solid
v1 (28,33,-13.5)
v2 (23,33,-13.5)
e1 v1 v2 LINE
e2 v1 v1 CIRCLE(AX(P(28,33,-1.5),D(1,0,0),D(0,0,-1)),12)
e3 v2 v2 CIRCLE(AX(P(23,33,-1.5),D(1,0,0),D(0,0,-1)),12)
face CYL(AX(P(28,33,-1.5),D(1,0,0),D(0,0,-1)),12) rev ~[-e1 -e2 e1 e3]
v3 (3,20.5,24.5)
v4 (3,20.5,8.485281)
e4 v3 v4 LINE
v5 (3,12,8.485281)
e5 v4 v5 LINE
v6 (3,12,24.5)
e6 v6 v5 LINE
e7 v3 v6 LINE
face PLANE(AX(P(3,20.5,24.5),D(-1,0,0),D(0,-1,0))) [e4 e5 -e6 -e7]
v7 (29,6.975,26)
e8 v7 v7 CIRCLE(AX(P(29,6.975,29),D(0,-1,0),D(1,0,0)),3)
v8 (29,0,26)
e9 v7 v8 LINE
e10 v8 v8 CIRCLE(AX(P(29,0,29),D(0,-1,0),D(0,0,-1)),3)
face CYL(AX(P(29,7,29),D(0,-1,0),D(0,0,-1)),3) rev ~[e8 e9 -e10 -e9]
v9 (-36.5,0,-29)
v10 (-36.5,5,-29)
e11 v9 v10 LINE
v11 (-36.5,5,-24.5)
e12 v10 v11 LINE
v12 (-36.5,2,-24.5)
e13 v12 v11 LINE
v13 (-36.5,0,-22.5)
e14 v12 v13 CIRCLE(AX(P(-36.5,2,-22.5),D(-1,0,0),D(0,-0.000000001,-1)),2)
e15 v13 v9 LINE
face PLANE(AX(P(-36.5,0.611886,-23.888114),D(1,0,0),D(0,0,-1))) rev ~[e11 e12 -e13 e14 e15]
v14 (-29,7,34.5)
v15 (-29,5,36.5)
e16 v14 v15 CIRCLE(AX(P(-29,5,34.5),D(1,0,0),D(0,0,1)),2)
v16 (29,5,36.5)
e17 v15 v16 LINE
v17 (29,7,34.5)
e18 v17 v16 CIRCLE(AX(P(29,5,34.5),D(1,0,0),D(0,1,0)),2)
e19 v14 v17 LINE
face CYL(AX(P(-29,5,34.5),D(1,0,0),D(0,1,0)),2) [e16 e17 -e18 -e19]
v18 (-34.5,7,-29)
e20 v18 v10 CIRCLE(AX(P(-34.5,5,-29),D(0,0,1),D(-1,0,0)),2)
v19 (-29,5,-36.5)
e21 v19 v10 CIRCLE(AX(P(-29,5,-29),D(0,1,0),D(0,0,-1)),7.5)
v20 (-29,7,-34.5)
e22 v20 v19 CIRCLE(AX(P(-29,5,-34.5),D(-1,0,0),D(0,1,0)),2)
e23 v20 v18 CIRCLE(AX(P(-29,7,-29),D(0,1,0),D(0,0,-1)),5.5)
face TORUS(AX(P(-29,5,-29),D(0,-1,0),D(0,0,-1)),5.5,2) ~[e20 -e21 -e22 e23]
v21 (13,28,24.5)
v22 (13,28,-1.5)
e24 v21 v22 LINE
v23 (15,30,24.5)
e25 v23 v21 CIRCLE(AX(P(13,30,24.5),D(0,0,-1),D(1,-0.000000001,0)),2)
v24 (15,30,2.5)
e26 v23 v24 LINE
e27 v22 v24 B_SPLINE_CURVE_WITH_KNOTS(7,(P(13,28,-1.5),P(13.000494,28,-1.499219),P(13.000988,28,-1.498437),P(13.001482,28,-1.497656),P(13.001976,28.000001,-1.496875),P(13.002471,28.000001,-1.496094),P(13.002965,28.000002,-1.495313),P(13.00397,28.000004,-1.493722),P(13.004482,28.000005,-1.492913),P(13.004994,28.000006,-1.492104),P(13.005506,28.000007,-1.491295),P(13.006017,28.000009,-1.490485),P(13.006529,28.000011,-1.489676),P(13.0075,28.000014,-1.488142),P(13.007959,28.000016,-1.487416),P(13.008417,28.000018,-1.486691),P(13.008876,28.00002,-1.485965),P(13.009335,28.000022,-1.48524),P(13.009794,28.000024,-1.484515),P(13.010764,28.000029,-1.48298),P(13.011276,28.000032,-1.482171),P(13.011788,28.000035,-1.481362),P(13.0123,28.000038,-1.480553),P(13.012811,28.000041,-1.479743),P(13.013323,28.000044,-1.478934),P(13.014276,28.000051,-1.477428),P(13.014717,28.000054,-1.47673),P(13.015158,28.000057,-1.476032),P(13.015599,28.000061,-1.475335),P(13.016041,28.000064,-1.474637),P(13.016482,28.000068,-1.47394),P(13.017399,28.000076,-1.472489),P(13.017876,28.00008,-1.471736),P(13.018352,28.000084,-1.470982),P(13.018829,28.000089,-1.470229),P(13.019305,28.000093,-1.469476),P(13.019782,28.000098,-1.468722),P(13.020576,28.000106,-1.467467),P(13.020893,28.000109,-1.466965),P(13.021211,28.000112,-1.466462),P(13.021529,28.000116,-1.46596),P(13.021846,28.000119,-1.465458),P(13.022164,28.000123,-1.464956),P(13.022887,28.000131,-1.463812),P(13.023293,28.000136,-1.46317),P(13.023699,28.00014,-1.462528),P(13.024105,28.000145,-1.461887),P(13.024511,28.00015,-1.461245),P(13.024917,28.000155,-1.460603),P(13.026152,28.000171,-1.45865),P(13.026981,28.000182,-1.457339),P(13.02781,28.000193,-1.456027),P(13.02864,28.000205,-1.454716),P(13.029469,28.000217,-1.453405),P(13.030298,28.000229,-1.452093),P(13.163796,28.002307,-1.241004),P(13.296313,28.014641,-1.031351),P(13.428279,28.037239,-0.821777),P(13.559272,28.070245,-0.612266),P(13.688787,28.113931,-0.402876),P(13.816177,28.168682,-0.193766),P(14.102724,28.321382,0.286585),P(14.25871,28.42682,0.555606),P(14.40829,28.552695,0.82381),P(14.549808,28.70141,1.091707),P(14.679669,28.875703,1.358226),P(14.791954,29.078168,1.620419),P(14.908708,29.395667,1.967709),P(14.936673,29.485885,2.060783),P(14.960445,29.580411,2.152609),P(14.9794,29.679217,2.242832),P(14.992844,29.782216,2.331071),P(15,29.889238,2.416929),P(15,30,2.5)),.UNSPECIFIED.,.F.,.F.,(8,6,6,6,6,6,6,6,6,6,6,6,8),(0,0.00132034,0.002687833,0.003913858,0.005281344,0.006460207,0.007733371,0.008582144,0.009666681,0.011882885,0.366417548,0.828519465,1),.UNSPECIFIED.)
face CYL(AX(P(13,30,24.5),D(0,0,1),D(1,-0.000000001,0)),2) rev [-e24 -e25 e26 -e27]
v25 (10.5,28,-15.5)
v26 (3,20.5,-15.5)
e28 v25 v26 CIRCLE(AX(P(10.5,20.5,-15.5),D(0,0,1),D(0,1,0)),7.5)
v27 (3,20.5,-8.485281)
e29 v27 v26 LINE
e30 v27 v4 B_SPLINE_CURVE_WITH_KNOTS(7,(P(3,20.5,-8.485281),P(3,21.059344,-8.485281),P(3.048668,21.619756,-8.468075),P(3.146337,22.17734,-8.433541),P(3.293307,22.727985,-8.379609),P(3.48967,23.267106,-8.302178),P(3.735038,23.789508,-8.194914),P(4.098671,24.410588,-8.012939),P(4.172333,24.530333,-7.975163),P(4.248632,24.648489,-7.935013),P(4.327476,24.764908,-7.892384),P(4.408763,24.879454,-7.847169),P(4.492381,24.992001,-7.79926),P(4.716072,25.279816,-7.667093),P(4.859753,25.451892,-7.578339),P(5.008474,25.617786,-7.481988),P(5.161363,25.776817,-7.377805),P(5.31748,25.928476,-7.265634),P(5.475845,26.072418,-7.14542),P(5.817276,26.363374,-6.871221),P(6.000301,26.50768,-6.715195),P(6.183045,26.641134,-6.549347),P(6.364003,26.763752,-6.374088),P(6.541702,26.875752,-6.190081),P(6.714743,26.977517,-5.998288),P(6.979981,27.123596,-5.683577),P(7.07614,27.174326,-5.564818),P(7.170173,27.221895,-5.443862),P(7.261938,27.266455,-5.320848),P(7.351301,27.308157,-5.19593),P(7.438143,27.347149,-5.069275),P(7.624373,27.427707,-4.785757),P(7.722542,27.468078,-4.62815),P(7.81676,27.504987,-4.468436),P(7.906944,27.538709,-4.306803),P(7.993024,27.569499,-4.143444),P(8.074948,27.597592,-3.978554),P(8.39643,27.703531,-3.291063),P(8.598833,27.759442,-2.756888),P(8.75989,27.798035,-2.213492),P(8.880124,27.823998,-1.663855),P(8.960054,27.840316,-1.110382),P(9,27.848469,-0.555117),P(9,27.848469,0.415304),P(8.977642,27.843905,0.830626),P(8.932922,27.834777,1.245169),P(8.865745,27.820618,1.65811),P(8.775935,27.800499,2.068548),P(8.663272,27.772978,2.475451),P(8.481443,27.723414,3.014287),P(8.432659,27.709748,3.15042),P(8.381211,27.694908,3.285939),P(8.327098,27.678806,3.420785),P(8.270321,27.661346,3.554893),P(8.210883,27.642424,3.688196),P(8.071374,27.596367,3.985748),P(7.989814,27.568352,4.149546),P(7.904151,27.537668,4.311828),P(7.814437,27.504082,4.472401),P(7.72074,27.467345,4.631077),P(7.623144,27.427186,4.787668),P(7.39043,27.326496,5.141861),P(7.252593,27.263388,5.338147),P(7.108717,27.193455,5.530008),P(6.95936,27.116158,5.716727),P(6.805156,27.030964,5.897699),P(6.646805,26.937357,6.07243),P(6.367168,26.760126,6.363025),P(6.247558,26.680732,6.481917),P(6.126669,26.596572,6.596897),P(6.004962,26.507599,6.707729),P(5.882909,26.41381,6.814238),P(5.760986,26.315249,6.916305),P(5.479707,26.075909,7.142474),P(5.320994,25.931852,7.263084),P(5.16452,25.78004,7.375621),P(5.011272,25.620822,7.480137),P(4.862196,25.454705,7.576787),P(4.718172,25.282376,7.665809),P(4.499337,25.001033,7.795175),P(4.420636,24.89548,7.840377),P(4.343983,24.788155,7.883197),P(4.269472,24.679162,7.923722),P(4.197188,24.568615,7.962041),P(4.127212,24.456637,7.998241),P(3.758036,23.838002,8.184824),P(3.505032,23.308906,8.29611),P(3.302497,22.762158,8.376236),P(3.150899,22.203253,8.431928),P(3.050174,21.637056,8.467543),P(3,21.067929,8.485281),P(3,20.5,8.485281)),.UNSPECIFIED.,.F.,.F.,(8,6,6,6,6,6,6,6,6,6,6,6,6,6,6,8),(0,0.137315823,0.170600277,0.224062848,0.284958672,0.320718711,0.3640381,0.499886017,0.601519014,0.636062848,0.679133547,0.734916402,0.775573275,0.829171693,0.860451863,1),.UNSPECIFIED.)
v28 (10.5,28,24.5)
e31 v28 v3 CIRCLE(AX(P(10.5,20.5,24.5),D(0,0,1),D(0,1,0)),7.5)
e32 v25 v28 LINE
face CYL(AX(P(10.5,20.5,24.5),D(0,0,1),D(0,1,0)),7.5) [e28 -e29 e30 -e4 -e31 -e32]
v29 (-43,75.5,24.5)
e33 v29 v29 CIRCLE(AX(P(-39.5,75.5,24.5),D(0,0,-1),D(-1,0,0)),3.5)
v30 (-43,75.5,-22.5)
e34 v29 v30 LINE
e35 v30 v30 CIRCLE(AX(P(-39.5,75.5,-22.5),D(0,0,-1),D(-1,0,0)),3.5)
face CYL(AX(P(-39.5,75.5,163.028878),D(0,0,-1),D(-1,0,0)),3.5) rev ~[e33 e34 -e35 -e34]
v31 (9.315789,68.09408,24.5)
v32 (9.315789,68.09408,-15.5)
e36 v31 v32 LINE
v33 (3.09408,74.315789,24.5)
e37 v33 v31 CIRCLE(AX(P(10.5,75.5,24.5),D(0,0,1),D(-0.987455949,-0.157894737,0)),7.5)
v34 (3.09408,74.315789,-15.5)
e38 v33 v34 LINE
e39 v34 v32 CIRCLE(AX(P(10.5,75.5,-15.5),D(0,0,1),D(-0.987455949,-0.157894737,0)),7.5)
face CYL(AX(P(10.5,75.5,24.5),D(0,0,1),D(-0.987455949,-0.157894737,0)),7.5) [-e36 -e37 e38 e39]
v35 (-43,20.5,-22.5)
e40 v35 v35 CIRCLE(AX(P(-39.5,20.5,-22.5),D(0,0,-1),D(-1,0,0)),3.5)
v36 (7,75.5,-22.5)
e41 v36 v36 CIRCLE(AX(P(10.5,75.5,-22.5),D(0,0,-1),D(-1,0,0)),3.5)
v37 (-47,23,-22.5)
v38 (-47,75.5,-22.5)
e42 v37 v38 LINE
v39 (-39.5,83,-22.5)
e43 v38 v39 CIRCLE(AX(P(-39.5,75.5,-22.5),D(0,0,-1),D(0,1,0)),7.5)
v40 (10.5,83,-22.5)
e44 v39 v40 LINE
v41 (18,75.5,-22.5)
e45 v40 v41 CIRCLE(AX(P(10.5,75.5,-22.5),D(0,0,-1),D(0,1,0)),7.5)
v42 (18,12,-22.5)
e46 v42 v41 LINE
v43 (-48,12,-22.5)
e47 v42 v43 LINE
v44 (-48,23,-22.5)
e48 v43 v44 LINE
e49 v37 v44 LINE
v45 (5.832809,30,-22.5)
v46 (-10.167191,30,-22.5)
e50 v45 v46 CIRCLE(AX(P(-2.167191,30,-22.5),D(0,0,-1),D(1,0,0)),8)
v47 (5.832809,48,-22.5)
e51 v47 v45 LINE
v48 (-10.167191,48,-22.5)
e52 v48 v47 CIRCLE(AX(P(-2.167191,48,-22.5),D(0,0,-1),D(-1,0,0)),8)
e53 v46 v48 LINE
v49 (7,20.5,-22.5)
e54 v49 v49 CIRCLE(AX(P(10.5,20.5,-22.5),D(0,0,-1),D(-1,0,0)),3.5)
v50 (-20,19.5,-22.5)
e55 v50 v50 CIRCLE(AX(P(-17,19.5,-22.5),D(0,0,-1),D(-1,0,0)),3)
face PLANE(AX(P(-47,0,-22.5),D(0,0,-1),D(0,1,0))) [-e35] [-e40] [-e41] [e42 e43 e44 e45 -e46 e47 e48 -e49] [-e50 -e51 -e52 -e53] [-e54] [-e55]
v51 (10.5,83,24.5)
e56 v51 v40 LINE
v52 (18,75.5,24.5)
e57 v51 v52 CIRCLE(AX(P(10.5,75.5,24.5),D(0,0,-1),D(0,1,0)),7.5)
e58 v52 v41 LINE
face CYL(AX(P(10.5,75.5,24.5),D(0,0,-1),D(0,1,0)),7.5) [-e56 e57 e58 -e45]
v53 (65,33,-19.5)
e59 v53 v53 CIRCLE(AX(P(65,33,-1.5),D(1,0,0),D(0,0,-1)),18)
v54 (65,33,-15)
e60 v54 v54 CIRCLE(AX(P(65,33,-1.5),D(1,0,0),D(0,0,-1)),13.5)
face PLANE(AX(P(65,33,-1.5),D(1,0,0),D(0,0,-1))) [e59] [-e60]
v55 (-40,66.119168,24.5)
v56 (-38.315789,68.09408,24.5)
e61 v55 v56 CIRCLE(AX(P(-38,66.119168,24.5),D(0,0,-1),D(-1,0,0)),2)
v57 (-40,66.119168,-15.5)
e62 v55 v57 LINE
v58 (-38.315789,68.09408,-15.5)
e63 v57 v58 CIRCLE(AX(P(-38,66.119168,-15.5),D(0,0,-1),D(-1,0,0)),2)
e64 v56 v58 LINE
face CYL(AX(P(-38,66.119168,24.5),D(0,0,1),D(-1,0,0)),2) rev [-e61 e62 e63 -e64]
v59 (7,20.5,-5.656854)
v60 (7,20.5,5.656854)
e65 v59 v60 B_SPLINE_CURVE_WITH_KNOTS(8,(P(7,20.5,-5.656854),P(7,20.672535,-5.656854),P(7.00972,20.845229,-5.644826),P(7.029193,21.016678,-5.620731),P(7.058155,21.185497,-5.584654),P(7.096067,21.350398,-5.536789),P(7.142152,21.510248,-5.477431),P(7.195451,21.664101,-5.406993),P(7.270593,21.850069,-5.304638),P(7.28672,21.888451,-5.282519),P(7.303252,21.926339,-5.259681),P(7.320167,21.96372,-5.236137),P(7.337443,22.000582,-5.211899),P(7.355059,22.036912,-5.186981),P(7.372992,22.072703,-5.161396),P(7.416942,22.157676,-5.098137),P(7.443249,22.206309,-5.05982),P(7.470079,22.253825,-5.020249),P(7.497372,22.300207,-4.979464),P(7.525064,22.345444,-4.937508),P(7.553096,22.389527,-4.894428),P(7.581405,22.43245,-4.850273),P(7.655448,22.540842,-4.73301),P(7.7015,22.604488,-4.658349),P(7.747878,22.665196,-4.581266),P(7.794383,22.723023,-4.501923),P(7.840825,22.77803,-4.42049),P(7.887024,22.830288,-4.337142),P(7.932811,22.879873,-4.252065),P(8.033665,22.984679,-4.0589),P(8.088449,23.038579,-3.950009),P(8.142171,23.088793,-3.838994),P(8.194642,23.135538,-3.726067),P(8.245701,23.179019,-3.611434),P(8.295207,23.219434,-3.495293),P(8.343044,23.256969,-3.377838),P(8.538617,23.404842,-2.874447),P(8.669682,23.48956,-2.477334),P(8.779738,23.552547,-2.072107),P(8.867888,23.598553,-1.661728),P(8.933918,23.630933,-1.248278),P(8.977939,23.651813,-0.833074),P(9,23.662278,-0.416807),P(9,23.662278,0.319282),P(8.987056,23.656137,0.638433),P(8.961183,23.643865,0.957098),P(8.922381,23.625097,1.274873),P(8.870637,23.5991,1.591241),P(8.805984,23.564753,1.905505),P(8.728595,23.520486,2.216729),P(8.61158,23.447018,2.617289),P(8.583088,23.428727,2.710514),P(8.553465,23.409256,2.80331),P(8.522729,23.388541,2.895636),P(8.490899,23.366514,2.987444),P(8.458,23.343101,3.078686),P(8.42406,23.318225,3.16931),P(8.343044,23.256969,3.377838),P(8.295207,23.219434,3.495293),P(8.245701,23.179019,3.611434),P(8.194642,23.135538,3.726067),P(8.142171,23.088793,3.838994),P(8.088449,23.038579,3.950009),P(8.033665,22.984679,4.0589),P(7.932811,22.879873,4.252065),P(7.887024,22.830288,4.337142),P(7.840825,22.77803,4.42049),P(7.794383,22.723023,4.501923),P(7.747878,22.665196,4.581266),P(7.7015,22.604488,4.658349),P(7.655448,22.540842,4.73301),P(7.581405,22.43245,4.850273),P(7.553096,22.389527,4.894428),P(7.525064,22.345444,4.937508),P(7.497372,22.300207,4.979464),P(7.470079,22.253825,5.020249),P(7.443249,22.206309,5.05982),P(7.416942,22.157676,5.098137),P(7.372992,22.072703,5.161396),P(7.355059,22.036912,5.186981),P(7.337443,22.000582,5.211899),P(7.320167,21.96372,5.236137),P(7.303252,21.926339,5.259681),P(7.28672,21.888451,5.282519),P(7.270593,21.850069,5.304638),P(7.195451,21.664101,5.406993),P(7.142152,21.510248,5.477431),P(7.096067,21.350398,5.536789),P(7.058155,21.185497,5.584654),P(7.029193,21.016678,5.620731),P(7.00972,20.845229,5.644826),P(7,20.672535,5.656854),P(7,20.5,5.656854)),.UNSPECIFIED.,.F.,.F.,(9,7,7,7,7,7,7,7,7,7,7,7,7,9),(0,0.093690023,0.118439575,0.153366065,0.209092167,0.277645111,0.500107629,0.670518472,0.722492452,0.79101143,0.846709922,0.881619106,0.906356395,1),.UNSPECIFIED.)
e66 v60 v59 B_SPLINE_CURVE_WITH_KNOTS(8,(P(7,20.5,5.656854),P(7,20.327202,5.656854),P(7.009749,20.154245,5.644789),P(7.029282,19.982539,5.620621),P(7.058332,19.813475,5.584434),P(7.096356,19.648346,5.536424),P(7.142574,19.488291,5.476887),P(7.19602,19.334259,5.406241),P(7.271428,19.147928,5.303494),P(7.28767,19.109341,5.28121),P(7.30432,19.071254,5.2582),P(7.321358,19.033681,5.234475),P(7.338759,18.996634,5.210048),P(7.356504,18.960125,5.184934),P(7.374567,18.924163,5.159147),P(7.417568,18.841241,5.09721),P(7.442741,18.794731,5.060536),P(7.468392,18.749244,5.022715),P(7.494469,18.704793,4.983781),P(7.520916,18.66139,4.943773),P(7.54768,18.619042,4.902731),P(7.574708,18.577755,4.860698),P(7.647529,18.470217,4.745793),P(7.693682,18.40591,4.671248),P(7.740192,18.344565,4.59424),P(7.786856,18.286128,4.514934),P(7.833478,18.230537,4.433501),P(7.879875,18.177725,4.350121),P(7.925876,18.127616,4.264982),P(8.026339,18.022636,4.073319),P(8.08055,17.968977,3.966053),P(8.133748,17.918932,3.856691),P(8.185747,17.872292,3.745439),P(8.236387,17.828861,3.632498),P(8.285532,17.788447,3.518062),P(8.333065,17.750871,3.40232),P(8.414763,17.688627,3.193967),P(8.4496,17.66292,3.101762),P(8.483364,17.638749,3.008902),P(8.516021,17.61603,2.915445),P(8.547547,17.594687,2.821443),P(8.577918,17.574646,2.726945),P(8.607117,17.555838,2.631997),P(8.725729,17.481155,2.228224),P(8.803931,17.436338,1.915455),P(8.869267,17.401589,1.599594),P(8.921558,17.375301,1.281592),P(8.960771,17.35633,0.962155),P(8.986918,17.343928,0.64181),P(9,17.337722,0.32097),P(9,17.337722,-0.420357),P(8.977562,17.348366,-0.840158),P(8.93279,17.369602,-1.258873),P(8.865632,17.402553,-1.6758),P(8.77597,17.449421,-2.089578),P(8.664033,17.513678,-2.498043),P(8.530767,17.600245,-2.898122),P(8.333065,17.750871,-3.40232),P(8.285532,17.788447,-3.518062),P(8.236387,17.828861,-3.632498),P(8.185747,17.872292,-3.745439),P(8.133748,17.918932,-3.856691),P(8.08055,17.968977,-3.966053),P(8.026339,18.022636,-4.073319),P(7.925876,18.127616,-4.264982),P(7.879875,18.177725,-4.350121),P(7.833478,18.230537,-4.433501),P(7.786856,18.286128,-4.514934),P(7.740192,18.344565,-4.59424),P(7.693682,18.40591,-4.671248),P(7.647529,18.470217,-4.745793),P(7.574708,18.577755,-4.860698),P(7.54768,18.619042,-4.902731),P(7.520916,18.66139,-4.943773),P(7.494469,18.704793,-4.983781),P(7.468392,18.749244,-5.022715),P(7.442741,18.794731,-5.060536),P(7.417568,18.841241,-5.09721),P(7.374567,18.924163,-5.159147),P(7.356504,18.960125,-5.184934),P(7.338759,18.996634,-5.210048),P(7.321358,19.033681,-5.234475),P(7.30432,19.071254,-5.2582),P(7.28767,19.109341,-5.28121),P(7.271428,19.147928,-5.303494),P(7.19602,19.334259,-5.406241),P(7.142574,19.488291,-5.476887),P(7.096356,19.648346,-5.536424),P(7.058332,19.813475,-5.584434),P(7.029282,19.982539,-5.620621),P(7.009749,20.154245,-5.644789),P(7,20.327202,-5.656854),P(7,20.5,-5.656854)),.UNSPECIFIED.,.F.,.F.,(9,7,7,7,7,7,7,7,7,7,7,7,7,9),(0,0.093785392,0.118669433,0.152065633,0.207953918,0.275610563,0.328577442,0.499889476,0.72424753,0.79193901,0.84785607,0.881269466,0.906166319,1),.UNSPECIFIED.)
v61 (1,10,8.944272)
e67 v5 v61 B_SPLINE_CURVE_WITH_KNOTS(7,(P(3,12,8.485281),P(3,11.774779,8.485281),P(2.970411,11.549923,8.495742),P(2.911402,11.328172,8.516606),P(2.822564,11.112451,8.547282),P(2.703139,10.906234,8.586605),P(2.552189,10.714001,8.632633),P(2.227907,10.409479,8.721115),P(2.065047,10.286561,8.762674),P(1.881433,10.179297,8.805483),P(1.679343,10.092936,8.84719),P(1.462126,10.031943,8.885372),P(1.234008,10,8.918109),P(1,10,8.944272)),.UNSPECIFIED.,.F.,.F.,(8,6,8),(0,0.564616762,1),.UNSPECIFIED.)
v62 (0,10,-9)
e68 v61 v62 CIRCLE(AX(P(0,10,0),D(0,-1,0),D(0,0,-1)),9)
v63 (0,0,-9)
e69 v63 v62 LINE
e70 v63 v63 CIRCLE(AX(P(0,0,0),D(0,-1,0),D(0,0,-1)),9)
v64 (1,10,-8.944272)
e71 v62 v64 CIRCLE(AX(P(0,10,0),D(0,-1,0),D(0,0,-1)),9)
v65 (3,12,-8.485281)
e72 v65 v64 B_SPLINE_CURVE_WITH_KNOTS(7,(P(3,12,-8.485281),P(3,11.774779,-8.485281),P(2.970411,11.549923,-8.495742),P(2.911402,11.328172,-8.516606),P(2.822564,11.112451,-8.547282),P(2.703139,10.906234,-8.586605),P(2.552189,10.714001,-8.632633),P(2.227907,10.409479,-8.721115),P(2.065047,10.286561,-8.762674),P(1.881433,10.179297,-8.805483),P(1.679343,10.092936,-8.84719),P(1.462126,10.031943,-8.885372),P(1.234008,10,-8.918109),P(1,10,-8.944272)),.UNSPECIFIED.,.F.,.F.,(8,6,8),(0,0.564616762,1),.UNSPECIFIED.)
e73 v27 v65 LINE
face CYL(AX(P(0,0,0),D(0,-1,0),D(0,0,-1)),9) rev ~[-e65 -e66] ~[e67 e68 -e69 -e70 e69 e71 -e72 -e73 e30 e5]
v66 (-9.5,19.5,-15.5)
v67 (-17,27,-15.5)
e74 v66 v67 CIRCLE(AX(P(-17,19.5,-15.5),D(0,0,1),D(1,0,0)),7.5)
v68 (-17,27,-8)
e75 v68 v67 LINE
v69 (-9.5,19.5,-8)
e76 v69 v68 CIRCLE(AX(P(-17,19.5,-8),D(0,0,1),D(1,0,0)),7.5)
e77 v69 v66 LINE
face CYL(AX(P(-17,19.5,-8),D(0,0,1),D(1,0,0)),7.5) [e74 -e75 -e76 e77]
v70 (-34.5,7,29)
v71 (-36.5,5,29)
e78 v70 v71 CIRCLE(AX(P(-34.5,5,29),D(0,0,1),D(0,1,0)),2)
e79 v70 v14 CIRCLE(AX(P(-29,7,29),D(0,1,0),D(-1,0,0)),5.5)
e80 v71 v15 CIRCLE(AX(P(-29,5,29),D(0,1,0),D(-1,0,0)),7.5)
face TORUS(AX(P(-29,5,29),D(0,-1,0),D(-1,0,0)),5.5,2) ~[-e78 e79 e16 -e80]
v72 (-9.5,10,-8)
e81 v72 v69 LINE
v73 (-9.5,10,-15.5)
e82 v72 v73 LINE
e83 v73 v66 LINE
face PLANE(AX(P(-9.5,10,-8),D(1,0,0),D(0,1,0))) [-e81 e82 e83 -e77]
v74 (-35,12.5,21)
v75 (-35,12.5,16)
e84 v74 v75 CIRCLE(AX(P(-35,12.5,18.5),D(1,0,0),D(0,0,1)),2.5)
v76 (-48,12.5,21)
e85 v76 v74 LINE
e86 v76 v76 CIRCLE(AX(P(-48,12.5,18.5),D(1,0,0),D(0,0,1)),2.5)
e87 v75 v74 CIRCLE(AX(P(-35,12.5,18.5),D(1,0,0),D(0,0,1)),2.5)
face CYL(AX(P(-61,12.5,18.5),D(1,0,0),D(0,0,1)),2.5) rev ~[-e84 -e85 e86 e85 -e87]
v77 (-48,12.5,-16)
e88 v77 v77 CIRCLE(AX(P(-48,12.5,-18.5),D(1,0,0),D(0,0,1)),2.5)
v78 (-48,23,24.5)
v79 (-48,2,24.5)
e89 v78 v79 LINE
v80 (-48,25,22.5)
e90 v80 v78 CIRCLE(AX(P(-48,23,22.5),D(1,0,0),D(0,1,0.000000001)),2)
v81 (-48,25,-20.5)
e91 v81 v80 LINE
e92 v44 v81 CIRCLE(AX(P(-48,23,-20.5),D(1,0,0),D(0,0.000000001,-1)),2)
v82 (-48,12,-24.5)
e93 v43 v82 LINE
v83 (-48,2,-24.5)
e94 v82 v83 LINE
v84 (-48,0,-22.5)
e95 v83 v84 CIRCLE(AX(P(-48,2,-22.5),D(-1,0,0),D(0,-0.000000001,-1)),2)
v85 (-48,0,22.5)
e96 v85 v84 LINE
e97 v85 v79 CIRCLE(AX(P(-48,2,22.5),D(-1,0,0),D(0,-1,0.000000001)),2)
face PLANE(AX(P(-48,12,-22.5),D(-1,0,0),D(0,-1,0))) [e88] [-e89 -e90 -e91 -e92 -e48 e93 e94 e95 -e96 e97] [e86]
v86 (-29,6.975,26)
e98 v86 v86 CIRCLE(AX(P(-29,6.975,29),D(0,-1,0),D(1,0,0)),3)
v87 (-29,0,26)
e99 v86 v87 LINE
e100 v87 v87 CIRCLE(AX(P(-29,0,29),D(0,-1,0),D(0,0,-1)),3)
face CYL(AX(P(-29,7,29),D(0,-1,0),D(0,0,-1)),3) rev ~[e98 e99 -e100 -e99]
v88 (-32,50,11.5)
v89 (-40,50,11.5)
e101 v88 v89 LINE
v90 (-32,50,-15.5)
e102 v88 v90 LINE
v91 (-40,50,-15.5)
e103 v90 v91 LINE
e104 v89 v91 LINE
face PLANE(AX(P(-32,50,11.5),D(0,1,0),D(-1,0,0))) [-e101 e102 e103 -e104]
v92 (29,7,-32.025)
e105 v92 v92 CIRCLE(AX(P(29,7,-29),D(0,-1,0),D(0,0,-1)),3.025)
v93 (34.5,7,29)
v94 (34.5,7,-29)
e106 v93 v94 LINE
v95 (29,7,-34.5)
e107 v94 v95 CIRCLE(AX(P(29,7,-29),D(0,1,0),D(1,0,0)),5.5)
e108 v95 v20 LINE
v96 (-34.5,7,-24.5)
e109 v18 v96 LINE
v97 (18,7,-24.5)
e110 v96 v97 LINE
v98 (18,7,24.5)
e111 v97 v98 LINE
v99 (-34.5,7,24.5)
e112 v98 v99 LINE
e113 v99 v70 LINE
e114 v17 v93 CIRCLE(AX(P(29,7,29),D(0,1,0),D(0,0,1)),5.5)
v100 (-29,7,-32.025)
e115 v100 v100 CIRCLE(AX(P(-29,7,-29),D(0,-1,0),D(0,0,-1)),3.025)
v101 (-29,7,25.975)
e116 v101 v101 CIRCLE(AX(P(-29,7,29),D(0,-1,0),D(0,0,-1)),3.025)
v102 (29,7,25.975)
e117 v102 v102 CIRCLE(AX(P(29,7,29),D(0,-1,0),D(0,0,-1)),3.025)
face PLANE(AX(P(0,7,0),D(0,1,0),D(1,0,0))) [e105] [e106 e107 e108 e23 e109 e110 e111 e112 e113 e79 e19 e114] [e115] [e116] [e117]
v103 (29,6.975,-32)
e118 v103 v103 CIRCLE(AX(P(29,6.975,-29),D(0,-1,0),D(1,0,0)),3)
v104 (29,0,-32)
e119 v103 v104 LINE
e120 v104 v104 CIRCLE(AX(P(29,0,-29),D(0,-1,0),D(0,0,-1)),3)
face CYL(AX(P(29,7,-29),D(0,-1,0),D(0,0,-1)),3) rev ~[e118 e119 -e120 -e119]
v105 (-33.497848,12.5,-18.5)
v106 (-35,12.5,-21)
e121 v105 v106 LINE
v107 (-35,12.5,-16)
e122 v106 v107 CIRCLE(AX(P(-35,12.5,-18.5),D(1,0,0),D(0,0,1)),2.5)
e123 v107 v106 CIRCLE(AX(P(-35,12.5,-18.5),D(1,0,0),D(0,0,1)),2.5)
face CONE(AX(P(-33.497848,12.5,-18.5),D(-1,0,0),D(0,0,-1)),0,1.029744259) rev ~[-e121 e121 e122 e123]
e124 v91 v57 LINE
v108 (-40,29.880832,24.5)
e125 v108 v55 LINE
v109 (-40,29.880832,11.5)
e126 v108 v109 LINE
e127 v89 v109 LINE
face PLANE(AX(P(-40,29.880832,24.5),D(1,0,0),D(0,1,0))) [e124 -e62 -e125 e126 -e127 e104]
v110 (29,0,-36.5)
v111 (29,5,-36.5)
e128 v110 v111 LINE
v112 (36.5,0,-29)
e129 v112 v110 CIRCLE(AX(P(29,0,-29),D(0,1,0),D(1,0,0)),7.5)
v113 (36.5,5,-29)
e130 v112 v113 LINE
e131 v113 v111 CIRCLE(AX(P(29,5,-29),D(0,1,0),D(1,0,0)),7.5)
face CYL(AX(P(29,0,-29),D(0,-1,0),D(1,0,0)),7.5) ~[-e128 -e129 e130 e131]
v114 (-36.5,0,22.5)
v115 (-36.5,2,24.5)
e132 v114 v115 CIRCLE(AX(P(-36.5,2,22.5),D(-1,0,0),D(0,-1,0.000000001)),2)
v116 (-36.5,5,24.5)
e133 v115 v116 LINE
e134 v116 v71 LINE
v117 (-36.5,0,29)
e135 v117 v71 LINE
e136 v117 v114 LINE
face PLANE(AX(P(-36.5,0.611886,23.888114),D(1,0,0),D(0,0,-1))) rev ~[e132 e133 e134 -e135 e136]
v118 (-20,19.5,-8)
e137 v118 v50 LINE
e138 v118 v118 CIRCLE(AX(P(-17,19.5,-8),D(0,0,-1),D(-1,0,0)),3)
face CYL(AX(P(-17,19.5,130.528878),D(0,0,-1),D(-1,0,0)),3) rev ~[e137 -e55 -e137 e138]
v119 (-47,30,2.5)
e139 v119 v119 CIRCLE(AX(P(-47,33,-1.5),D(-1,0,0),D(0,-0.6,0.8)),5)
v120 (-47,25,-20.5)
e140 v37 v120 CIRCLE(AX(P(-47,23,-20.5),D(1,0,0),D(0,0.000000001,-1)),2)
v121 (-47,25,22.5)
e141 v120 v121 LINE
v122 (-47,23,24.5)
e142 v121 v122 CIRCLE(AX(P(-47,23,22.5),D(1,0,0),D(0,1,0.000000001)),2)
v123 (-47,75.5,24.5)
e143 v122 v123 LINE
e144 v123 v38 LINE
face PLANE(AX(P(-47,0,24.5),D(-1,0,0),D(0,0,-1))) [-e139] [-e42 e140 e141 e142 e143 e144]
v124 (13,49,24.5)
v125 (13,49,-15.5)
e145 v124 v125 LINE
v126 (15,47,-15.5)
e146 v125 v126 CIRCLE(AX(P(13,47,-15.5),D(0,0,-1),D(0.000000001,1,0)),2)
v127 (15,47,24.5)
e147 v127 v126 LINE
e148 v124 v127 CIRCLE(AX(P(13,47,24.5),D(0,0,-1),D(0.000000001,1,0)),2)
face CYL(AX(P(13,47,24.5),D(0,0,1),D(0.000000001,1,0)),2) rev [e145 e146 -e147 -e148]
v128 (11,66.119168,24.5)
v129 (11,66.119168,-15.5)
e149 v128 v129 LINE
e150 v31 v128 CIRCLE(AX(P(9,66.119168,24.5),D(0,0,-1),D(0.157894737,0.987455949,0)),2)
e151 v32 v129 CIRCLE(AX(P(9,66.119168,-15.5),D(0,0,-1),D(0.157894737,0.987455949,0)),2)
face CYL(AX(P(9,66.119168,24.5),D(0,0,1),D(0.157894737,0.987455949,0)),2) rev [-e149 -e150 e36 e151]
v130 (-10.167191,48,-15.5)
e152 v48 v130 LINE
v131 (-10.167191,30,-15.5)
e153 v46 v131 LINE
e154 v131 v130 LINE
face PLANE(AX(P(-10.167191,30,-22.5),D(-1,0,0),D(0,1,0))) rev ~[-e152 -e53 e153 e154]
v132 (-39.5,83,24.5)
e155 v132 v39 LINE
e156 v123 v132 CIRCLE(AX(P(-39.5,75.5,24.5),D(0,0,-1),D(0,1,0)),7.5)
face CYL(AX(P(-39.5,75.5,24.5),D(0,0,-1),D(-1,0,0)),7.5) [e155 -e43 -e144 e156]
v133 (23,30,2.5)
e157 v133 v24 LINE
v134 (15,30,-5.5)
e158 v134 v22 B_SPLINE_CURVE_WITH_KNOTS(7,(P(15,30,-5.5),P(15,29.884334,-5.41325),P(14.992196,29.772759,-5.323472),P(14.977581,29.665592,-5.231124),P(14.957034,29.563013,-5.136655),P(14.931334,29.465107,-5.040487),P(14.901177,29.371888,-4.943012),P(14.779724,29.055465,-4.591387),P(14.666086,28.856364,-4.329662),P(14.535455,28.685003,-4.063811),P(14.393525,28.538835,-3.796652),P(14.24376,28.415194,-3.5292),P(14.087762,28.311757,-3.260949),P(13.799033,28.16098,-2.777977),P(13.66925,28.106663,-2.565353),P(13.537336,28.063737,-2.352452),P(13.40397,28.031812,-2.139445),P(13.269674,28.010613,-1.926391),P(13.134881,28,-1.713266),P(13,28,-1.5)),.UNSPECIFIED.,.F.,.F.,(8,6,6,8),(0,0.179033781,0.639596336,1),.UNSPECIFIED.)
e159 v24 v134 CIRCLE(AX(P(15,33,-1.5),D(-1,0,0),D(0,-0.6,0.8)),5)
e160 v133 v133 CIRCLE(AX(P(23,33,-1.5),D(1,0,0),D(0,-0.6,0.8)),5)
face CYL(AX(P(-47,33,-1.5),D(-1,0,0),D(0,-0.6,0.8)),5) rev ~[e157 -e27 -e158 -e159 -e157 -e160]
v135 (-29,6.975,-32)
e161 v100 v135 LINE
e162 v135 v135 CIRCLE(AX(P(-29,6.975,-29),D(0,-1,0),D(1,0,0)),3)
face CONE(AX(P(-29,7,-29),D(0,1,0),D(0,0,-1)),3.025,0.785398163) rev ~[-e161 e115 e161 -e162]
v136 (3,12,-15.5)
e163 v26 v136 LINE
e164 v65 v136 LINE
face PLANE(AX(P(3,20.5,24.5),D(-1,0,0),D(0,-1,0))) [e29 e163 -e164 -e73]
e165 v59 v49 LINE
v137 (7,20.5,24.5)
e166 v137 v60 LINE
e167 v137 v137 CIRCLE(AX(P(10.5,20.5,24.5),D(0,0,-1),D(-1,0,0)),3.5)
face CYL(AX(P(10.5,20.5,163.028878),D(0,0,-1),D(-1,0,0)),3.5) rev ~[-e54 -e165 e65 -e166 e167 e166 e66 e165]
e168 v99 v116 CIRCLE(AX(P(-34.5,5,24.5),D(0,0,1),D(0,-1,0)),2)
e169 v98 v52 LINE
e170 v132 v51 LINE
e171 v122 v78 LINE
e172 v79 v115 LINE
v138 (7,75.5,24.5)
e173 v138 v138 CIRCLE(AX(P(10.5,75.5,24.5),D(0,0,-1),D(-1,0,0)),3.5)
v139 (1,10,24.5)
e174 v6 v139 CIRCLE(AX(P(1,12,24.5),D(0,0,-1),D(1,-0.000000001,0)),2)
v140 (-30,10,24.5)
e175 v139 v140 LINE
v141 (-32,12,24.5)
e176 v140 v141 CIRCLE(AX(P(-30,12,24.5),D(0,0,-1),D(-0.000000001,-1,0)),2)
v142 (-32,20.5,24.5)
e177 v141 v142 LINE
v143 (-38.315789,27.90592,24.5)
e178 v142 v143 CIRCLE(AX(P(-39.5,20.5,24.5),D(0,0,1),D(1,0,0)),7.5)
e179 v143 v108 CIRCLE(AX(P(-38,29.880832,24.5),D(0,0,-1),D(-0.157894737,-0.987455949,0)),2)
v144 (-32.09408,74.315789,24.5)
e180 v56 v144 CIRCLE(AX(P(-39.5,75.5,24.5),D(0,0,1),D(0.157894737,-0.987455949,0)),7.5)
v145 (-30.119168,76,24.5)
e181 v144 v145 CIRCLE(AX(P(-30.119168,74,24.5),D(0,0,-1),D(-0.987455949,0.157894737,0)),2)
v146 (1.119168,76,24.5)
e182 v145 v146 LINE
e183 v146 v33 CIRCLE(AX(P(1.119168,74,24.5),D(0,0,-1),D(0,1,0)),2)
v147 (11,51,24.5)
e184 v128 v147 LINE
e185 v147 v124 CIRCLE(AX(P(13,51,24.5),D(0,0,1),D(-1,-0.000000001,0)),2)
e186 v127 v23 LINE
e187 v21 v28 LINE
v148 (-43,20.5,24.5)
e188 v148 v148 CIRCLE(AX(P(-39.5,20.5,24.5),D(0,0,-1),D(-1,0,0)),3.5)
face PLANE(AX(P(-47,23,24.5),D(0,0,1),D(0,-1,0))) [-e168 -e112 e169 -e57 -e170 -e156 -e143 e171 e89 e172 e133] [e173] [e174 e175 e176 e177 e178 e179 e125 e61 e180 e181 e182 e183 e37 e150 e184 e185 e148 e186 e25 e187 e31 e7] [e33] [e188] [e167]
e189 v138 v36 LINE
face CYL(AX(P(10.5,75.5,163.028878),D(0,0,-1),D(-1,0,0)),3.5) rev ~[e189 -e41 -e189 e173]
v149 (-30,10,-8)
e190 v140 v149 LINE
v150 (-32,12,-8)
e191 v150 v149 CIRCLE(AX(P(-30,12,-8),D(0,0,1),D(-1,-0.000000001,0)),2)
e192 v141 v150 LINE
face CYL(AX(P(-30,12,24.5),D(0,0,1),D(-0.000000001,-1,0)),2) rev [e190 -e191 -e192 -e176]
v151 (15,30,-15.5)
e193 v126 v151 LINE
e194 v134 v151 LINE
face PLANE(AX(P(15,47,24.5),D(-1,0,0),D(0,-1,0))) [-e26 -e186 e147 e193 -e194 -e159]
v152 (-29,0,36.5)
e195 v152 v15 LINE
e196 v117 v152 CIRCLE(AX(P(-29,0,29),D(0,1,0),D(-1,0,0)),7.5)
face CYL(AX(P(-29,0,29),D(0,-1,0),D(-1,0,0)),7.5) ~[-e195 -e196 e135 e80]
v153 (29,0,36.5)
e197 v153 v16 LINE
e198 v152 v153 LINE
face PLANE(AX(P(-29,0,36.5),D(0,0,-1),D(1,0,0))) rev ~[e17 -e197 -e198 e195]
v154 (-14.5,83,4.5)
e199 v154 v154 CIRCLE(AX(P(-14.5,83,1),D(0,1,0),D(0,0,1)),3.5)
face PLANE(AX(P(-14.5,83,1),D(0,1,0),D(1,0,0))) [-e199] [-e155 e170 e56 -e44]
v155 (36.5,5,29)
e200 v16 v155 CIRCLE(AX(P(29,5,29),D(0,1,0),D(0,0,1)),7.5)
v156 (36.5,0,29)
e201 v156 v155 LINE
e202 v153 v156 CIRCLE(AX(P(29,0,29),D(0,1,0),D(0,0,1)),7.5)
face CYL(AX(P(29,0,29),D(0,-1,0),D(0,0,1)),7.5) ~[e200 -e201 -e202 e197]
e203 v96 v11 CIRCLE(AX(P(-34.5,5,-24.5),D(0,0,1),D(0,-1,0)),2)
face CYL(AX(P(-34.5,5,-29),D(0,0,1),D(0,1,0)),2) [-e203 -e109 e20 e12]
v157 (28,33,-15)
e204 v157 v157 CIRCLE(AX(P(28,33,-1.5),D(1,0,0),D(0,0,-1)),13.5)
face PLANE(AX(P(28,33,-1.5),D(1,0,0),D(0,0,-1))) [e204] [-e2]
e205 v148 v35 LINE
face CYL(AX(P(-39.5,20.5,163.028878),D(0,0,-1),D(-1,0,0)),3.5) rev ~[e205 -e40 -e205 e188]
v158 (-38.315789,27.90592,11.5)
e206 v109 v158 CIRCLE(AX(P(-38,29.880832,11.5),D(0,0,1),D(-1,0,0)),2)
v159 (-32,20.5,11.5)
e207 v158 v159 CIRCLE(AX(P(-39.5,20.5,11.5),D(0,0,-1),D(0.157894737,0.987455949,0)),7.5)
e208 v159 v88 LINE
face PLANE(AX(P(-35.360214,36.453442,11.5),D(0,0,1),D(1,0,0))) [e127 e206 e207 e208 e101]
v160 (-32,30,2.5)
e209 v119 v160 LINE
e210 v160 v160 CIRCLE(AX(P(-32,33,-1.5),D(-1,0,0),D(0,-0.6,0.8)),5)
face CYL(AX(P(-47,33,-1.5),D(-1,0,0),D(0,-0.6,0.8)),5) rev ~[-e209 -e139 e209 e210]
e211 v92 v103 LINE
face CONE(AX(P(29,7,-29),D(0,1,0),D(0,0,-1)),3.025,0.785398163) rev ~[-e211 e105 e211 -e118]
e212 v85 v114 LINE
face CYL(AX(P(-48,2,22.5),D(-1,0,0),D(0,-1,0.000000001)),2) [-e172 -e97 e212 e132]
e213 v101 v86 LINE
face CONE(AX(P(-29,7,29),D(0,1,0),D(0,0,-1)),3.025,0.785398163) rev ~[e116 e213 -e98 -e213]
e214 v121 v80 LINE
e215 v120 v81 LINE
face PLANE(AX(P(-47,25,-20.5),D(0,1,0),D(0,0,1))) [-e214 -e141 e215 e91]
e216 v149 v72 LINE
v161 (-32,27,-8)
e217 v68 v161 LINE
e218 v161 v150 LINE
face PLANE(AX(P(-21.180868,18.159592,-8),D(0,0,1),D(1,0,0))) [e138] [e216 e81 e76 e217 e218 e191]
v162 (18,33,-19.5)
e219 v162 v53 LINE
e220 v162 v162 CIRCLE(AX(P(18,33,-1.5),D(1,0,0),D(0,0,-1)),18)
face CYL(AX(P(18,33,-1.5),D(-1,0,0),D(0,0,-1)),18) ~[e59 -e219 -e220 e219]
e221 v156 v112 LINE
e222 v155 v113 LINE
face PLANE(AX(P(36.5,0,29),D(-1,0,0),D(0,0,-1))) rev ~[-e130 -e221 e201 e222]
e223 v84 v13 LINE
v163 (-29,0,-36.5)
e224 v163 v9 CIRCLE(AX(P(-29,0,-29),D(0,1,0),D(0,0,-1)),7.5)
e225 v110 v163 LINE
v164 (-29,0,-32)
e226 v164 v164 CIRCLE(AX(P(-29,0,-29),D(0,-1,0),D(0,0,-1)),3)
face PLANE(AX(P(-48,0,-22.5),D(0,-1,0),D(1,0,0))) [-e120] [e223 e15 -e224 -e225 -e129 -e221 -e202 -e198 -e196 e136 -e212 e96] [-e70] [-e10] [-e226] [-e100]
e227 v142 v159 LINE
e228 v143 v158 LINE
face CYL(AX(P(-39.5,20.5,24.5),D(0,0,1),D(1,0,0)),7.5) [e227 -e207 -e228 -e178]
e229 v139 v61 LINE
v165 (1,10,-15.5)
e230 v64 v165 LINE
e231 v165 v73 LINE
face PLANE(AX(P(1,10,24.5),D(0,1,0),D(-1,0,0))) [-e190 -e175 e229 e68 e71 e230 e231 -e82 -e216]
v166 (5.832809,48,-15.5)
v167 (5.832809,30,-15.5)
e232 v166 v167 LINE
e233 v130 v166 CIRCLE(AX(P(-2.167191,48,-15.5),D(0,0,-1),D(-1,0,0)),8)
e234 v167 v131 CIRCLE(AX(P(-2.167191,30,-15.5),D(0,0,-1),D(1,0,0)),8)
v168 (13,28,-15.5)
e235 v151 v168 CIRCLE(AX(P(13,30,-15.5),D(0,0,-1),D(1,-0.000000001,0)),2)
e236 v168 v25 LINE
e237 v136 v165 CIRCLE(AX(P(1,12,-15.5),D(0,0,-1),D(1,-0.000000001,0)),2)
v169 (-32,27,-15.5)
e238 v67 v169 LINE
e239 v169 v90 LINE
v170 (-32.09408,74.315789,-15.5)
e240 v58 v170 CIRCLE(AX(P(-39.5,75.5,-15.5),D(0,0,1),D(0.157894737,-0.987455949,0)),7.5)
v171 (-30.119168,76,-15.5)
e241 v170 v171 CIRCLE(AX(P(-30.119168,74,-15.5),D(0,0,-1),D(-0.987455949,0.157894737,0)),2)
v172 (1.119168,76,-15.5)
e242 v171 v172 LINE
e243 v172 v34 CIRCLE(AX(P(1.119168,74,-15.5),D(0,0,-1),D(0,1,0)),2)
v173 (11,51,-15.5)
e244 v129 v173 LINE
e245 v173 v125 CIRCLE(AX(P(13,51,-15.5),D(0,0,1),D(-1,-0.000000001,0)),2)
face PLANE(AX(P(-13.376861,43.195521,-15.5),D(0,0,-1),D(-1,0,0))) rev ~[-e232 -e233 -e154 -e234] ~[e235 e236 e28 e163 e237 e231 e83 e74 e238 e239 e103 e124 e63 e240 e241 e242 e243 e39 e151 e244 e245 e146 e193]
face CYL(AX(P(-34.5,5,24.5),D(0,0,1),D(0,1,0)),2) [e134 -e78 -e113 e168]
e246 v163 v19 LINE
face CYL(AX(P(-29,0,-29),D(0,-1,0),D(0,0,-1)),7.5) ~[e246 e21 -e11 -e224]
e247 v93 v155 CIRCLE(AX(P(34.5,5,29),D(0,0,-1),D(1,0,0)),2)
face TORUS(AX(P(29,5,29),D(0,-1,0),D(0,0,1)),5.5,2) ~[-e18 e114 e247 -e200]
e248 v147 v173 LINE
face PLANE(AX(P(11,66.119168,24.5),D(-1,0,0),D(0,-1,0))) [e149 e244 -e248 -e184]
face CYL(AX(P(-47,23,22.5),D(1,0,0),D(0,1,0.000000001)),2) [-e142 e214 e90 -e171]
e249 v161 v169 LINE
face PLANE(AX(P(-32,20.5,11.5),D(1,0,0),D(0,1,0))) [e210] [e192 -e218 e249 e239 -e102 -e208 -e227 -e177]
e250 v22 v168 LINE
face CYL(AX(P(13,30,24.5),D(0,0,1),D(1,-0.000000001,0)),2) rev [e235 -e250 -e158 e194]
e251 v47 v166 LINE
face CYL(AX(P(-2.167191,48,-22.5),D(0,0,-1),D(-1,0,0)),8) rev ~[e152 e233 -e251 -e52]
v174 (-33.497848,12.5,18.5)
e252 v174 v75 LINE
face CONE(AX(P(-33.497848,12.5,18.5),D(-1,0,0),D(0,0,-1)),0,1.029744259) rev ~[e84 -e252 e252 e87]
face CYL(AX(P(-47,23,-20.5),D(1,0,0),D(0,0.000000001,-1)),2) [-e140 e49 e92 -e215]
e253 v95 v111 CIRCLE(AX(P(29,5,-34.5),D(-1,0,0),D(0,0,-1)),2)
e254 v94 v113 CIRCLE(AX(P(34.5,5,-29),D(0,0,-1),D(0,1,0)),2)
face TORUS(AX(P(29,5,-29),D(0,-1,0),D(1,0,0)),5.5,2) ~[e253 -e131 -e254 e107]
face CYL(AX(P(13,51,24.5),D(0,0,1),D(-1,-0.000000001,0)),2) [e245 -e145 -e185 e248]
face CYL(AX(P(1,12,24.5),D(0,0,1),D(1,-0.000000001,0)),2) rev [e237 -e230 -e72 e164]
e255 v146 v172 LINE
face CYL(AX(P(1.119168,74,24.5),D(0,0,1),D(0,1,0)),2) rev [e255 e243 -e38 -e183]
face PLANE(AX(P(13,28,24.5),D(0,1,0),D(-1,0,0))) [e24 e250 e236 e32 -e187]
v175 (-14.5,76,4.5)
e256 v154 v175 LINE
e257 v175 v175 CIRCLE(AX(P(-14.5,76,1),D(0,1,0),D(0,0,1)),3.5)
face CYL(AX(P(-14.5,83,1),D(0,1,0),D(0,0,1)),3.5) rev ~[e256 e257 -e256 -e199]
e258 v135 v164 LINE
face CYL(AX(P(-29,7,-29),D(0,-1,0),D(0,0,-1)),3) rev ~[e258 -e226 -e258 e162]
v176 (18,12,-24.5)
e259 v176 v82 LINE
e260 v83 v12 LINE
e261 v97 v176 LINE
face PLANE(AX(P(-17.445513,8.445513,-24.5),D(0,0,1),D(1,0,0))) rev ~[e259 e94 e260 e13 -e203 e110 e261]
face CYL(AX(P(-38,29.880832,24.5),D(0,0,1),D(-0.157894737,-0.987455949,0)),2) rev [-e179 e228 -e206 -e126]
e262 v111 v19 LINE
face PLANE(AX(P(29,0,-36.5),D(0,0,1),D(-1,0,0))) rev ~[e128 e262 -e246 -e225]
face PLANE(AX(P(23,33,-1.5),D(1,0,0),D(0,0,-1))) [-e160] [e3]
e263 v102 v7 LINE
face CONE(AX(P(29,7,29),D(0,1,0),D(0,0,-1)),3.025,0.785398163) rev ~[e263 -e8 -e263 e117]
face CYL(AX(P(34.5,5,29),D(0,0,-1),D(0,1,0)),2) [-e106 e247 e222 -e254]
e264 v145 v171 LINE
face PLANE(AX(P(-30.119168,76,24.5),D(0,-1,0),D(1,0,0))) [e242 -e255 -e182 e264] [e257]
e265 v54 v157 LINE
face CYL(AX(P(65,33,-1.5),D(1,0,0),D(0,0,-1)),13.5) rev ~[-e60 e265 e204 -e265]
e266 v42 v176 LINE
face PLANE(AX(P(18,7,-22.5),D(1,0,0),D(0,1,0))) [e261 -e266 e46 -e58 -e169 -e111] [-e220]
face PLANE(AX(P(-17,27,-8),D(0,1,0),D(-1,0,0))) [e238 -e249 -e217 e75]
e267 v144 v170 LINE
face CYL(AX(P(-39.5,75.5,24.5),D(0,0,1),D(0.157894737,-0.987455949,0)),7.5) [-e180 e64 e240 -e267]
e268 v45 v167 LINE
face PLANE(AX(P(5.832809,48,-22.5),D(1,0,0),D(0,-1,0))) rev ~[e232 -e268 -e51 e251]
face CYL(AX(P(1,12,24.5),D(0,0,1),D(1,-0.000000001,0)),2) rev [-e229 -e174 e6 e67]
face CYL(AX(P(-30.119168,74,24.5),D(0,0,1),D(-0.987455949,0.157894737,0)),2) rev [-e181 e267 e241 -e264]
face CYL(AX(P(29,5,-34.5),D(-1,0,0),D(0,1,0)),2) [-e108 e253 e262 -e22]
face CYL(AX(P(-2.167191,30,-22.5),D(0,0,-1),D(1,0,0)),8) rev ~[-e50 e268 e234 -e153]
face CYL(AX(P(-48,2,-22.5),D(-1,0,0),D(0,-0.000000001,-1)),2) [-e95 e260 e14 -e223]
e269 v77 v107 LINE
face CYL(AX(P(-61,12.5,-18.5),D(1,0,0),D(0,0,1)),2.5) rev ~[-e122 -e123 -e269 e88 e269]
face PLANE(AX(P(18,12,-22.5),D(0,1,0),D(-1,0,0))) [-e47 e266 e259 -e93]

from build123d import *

# Parameters (mm, degrees)
BOSS_EXTRUDE1_DEPTH             = 7
F_6_0MM_DOWEL_HOLE1_D           = 6
F_6_0MM_DOWEL_HOLE1_CSINK_D     = 6.05
F_6_0MM_DOWEL_HOLE1_CSINK_ANGLE = 90
BOSS_EXTRUDE2_DEPTH             = 76
BOSS_EXTRUDE2_DEPTH_BACK        = 7
SKETCH5_W                       = 65
SKETCH5_H                       = 47
FILLET1_R                       = 7.5
F_6_0MM_DOWEL_HOLE2_D           = 7
CUT_EXTRUDE1_DEPTH              = 40
BOSS_EXTRUDE3_START             = 27
BOSS_EXTRUDE3_DEPTH             = 27
BOSS_EXTRUDE4_START             = 7.5
BOSS_EXTRUDE4_DEPTH             = 7.5
F_6_0MM_DOWEL_HOLE3_D           = 6
CUT_EXTRUDE2_DEPTH              = 14.5
BOSS_EXTRUDE5_DEPTH             = 1
F_5_0MM_DOWEL_HOLE1_D           = 5
F_5_0MM_DOWEL_HOLE1_DEPTH       = 13
F_5_0MM_DOWEL_HOLE1_TIP         = 1.502151548
BOSS_EXTRUDE6_DEPTH             = 2
CUT_EXTRUDE4_DEPTH              = 11.5
SKETCH27_R                      = 9
CUT_EXTRUDE5_DEPTH              = 30
SKETCH28_R                      = 5
CUT_EXTRUDE6_DEPTH              = 100
SKETCH29_R                      = 18
BOSS_EXTRUDE7_DEPTH             = 47
SKETCH30_R                      = 13.5
CUT_EXTRUDE7_DEPTH              = 37
SKETCH31_R                      = 12
CUT_EXTRUDE8_DEPTH              = 5
SKETCH32_R                      = 5
CUT_EXTRUDE9_DEPTH              = 116.161842639
SKETCH33_R                      = 3.5
CUT_EXTRUDE10_DEPTH             = 10
FILLET4_R                       = 2


with BuildPart() as part:
    # Sketch2 → Boss-Extrude1 (new body)
    with BuildSketch(Plane(origin=(0, 0, 0), x_dir=(1, 0, 0), z_dir=(0, 1, 0))):
        with BuildLine():
            Line((-29, -36.5), (29, -36.5))
            ThreePointArc((29, -36.5), (34.303300859, -34.303300859), (36.5, -29))
            Line((36.5, -29), (36.5, 29))
            ThreePointArc((36.5, 29), (34.303300859, 34.303300859), (29, 36.5))
            Line((29, 36.5), (-29, 36.5))
            ThreePointArc((-29, 36.5), (-34.303300859, 34.303300859), (-36.5, 29))
            Line((-36.5, 29), (-36.5, -29))
            ThreePointArc((-36.5, -29), (-34.303300859, -34.303300859), (-29, -36.5))
        make_face()
    extrude(amount=BOSS_EXTRUDE1_DEPTH)

    # Ø6.0mm Dowel Hole1 (through all)
    with Locations(Plane(origin=(-29, 7, -29), x_dir=(0, 0, 1), z_dir=(0, 1, 0))):
        with Locations((0, 0), (0, 58), (58, 58), (58, 0)):
            CounterSinkHole(F_6_0MM_DOWEL_HOLE1_D / 2, F_6_0MM_DOWEL_HOLE1_CSINK_D / 2, counter_sink_angle=F_6_0MM_DOWEL_HOLE1_CSINK_ANGLE)

    # Sketch5 → Boss-Extrude2 (add, two sides: drawn at the far end of the back side and taken through both)
    with BuildSketch(Plane(origin=(0, 7, 0), x_dir=(1, 0, 0), z_dir=(0, 1, 0)).offset(-BOSS_EXTRUDE2_DEPTH_BACK)):
        with Locations((-14.5, -1)):
            Rectangle(SKETCH5_W, SKETCH5_H)
    extrude(amount=BOSS_EXTRUDE2_DEPTH + BOSS_EXTRUDE2_DEPTH_BACK)

    # Fillet1
    fillet1_edges = [part.edges().sort_by_distance(p)[0] for p in [
        (18, 83, 1),
        (-47, 83, 1),
    ]]
    fillet(fillet1_edges, radius=FILLET1_R)

    # Ø6.0mm Dowel Hole2 (through all)
    with Locations(Plane(origin=(-39.5, 75.5, 24.5), x_dir=(1, 0, 0), z_dir=(0, 0, 1))):
        with Locations((0, 0), (50, 0), (0, -55), (50, -55)):
            Hole(F_6_0MM_DOWEL_HOLE2_D / 2)

    # Sketch9 → Cut-Extrude1 (cut)
    with BuildSketch(Plane.XY.offset(24.5)):
        with BuildLine():
            Line((11, 66.11916848), (11, 51))
            ThreePointArc((11, 51), (11.585786438, 49.585786438), (13, 49))
            ThreePointArc((13, 49), (14.414213562, 48.414213562), (15, 47))
            Line((15, 47), (15, 30))
            ThreePointArc((15, 30), (14.414213562, 28.585786438), (13, 28))
            Line((13, 28), (10.5, 28))
            ThreePointArc((10.5, 28), (5.196699141, 25.803300859), (3, 20.5))
            Line((3, 20.5), (3, 12))
            ThreePointArc((3, 12), (2.414213562, 10.585786438), (1, 10))
            Line((1, 10), (-30, 10))
            ThreePointArc((-30, 10), (-31.414213562, 10.585786438), (-32, 12))
            Line((-32, 12), (-32, 20.5))
            ThreePointArc((-32, 20.5), (-33.793355673, 25.366642634), (-38.315789474, 27.905919621))
            ThreePointArc((-38.315789474, 27.905919621), (-39.521771821, 28.583060151), (-40, 29.88083152))
            Line((-40, 29.88083152), (-40, 66.11916848))
            ThreePointArc((-40, 66.11916848), (-39.521771821, 67.416939849), (-38.315789474, 68.094080379))
            ThreePointArc((-38.315789474, 68.094080379), (-34.196699141, 70.196699141), (-32.094080379, 74.315789474))
            ThreePointArc((-32.094080379, 74.315789474), (-31.416939849, 75.521771821), (-30.11916848, 76))
            Line((-30.11916848, 76), (1.11916848, 76))
            ThreePointArc((1.11916848, 76), (2.416939849, 75.521771821), (3.094080379, 74.315789474))
            ThreePointArc((3.094080379, 74.315789474), (5.196699141, 70.196699141), (9.315789474, 68.094080379))
            ThreePointArc((9.315789474, 68.094080379), (10.521771821, 67.416939849), (11, 66.11916848))
        make_face()
    extrude(amount=-CUT_EXTRUDE1_DEPTH, mode=Mode.SUBTRACT)

    # Sketch11 → Boss-Extrude3 (add)
    with BuildSketch(Plane.XY.offset(-15.5).offset(BOSS_EXTRUDE3_START)):
        with BuildLine():
            Line((-32, 20.5), (-32, 50))
            Line((-32, 50), (-40, 50))
            Line((-40, 50), (-40, 29.88083152))
            ThreePointArc((-40, 29.88083152), (-39.521771821, 28.583060151), (-38.315789474, 27.905919621))
            ThreePointArc((-38.315789474, 27.905919621), (-33.793355673, 25.366642634), (-32, 20.5))
        make_face()
    extrude(amount=-BOSS_EXTRUDE3_DEPTH)

    # Sketch12 → Boss-Extrude4 (add)
    with BuildSketch(Plane.XY.offset(-15.5).offset(BOSS_EXTRUDE4_START)):
        with BuildLine():
            Line((-9.5, 10), (-9.5, 19.5))
            ThreePointArc((-9.5, 19.5), (-11.696699141, 24.803300859), (-17, 27))
            Line((-17, 27), (-32, 27))
            Line((-32, 27), (-32, 12))
            ThreePointArc((-32, 12), (-31.414213562, 10.585786438), (-30, 10))
            Line((-30, 10), (-9.5, 10))
        make_face()
    extrude(amount=-BOSS_EXTRUDE4_DEPTH)

    # Ø6.0mm Dowel Hole3 (through all)
    with Locations(Plane(origin=(-17, 19.5, -8), x_dir=(1, 0, 0), z_dir=(0, 0, 1))):
        with Locations((0, 0)):
            Hole(F_6_0MM_DOWEL_HOLE3_D / 2)

    # Sketch14 → Cut-Extrude2 (cut)
    with BuildSketch(Plane(origin=(0, 0, -22.5), x_dir=(-1, 0, 0), z_dir=(0, 0, -1))):
        with BuildLine():
            Line((-5.832809465, 48), (-5.832809465, 30))
            ThreePointArc((-5.832809465, 30), (2.167190535, 22), (10.167190535, 30))
            Line((10.167190535, 30), (10.167190535, 48))
            ThreePointArc((10.167190535, 48), (2.167190535, 56), (-5.832809465, 48))
        make_face()
    extrude(amount=-CUT_EXTRUDE2_DEPTH, mode=Mode.SUBTRACT)

    # Sketch15 → Boss-Extrude5 (add)
    with BuildSketch(Plane.ZY.offset(47)):
        with BuildLine():
            Line((24.5, 0), (-22.5, 0))
            Line((-22.5, 0), (-22.5, 23))
            ThreePointArc((-22.5, 23), (-21.914213562, 24.414213562), (-20.5, 25))
            Line((-20.5, 25), (22.5, 25))
            ThreePointArc((22.5, 25), (23.914213562, 24.414213562), (24.5, 23))
            Line((24.5, 23), (24.5, 0))
        make_face()
    extrude(amount=BOSS_EXTRUDE5_DEPTH)

    # Ø5.0mm Dowel Hole1
    with Locations(Plane(origin=(-48, 12.5, 18.5), x_dir=(0, 0, -1), z_dir=(-1, 0, 0))):
        with Locations((0, 0), (37, 0)):
            Hole(F_5_0MM_DOWEL_HOLE1_D / 2, depth=F_5_0MM_DOWEL_HOLE1_DEPTH)
            with Locations((0, 0, -(F_5_0MM_DOWEL_HOLE1_DEPTH + F_5_0MM_DOWEL_HOLE1_TIP / 2))):  # 118° drill point
                Cone(0, F_5_0MM_DOWEL_HOLE1_D / 2, F_5_0MM_DOWEL_HOLE1_TIP, mode=Mode.SUBTRACT)

    # Sketch21 → Boss-Extrude6 (add)
    with BuildSketch(Plane(origin=(0, 0, -22.5), x_dir=(-1, 0, 0), z_dir=(0, 0, -1))):
        Polygon((48, 0), (36.5, 0), (36.5, 7), (-18, 7), (-18, 12), (48, 12), align=None)
    extrude(amount=BOSS_EXTRUDE6_DEPTH)

    # Sketch23 → Cut-Extrude4 (cut)
    with BuildSketch(Plane.ZY.offset(48)):
        with BuildLine():
            Line((-22.5, 0), (-24.5, 0))
            Line((-24.5, 0), (-24.5, 2))
            ThreePointArc((-24.5, 2), (-23.914213562, 0.585786438), (-22.5, 0))
        make_face()
        with BuildLine():
            Line((24.5, 0), (22.5, 0))
            ThreePointArc((22.5, 0), (23.914213562, 0.585786438), (24.5, 2))
            Line((24.5, 2), (24.5, 0))
        make_face()
    extrude(amount=-CUT_EXTRUDE4_DEPTH, mode=Mode.SUBTRACT)

    # Sketch27 → Cut-Extrude5 (cut)
    with BuildSketch(Plane.XZ):
        with Locations(Location((0, 0, 0), (0, 0, 270))):
            Circle(SKETCH27_R)
    extrude(amount=-CUT_EXTRUDE5_DEPTH, mode=Mode.SUBTRACT)

    # Sketch28 → Cut-Extrude6 (cut)
    with BuildSketch(Plane.ZY.offset(47)):
        with Locations(Location((-1.5, 33, 0), (0, 0, 323.130102354))):
            Circle(SKETCH28_R)
    extrude(amount=-CUT_EXTRUDE6_DEPTH, mode=Mode.SUBTRACT)

    # Sketch29 → Boss-Extrude7 (add)
    with BuildSketch(Plane(origin=(18, 0, 0), x_dir=(0, 0, -1), z_dir=(1, 0, 0))):
        with Locations((1.5, 33)):
            Circle(SKETCH29_R)
    extrude(amount=BOSS_EXTRUDE7_DEPTH)

    # Sketch30 → Cut-Extrude7 (cut)
    with BuildSketch(Plane(origin=(65, 0, 0), x_dir=(0, 0, -1), z_dir=(1, 0, 0))):
        with Locations((1.5, 33)):
            Circle(SKETCH30_R)
    extrude(amount=-CUT_EXTRUDE7_DEPTH, mode=Mode.SUBTRACT)

    # Sketch31 → Cut-Extrude8 (cut)
    with BuildSketch(Plane(origin=(28, 0, 0), x_dir=(0, 0, -1), z_dir=(1, 0, 0))):
        with Locations((1.5, 33)):
            Circle(SKETCH31_R)
    extrude(amount=-CUT_EXTRUDE8_DEPTH, mode=Mode.SUBTRACT)

    # Sketch32 → Cut-Extrude9 (cut, through all)
    with BuildSketch(Plane(origin=(23, 0, 0), x_dir=(0, 0, -1), z_dir=(1, 0, 0))):
        with Locations(Location((1.5, 33, 0), (0, 0, 216.869897646))):
            Circle(SKETCH32_R)
    extrude(amount=-CUT_EXTRUDE9_DEPTH, mode=Mode.SUBTRACT)

    # Sketch33 → Cut-Extrude10 (cut)
    with BuildSketch(Plane(origin=(0, 83, 0), x_dir=(1, 0, 0), z_dir=(0, 1, 0))):
        with Locations(Location((-14.5, -1, 0), (0, 0, 270))):
            Circle(SKETCH33_R)
    extrude(amount=-CUT_EXTRUDE10_DEPTH, mode=Mode.SUBTRACT)

    # Fillet4
    fillet4_edges = [part.edges().sort_by_distance(p)[0] for p in [
        (34.303300859, 7, -34.303300859),
        (0, 7, -36.5),
        (-34.303300859, 7, -34.303300859),
        (-36.5, 7, -26.75),
        (-34.303300859, 7, 34.303300859),
        (0, 7, 36.5),
        (34.303300859, 7, 34.303300859),
        (-36.5, 7, 26.75),
        (36.5, 7, 0),
    ]]
    fillet(fillet4_edges, radius=FILLET4_R)


solid = part.part
